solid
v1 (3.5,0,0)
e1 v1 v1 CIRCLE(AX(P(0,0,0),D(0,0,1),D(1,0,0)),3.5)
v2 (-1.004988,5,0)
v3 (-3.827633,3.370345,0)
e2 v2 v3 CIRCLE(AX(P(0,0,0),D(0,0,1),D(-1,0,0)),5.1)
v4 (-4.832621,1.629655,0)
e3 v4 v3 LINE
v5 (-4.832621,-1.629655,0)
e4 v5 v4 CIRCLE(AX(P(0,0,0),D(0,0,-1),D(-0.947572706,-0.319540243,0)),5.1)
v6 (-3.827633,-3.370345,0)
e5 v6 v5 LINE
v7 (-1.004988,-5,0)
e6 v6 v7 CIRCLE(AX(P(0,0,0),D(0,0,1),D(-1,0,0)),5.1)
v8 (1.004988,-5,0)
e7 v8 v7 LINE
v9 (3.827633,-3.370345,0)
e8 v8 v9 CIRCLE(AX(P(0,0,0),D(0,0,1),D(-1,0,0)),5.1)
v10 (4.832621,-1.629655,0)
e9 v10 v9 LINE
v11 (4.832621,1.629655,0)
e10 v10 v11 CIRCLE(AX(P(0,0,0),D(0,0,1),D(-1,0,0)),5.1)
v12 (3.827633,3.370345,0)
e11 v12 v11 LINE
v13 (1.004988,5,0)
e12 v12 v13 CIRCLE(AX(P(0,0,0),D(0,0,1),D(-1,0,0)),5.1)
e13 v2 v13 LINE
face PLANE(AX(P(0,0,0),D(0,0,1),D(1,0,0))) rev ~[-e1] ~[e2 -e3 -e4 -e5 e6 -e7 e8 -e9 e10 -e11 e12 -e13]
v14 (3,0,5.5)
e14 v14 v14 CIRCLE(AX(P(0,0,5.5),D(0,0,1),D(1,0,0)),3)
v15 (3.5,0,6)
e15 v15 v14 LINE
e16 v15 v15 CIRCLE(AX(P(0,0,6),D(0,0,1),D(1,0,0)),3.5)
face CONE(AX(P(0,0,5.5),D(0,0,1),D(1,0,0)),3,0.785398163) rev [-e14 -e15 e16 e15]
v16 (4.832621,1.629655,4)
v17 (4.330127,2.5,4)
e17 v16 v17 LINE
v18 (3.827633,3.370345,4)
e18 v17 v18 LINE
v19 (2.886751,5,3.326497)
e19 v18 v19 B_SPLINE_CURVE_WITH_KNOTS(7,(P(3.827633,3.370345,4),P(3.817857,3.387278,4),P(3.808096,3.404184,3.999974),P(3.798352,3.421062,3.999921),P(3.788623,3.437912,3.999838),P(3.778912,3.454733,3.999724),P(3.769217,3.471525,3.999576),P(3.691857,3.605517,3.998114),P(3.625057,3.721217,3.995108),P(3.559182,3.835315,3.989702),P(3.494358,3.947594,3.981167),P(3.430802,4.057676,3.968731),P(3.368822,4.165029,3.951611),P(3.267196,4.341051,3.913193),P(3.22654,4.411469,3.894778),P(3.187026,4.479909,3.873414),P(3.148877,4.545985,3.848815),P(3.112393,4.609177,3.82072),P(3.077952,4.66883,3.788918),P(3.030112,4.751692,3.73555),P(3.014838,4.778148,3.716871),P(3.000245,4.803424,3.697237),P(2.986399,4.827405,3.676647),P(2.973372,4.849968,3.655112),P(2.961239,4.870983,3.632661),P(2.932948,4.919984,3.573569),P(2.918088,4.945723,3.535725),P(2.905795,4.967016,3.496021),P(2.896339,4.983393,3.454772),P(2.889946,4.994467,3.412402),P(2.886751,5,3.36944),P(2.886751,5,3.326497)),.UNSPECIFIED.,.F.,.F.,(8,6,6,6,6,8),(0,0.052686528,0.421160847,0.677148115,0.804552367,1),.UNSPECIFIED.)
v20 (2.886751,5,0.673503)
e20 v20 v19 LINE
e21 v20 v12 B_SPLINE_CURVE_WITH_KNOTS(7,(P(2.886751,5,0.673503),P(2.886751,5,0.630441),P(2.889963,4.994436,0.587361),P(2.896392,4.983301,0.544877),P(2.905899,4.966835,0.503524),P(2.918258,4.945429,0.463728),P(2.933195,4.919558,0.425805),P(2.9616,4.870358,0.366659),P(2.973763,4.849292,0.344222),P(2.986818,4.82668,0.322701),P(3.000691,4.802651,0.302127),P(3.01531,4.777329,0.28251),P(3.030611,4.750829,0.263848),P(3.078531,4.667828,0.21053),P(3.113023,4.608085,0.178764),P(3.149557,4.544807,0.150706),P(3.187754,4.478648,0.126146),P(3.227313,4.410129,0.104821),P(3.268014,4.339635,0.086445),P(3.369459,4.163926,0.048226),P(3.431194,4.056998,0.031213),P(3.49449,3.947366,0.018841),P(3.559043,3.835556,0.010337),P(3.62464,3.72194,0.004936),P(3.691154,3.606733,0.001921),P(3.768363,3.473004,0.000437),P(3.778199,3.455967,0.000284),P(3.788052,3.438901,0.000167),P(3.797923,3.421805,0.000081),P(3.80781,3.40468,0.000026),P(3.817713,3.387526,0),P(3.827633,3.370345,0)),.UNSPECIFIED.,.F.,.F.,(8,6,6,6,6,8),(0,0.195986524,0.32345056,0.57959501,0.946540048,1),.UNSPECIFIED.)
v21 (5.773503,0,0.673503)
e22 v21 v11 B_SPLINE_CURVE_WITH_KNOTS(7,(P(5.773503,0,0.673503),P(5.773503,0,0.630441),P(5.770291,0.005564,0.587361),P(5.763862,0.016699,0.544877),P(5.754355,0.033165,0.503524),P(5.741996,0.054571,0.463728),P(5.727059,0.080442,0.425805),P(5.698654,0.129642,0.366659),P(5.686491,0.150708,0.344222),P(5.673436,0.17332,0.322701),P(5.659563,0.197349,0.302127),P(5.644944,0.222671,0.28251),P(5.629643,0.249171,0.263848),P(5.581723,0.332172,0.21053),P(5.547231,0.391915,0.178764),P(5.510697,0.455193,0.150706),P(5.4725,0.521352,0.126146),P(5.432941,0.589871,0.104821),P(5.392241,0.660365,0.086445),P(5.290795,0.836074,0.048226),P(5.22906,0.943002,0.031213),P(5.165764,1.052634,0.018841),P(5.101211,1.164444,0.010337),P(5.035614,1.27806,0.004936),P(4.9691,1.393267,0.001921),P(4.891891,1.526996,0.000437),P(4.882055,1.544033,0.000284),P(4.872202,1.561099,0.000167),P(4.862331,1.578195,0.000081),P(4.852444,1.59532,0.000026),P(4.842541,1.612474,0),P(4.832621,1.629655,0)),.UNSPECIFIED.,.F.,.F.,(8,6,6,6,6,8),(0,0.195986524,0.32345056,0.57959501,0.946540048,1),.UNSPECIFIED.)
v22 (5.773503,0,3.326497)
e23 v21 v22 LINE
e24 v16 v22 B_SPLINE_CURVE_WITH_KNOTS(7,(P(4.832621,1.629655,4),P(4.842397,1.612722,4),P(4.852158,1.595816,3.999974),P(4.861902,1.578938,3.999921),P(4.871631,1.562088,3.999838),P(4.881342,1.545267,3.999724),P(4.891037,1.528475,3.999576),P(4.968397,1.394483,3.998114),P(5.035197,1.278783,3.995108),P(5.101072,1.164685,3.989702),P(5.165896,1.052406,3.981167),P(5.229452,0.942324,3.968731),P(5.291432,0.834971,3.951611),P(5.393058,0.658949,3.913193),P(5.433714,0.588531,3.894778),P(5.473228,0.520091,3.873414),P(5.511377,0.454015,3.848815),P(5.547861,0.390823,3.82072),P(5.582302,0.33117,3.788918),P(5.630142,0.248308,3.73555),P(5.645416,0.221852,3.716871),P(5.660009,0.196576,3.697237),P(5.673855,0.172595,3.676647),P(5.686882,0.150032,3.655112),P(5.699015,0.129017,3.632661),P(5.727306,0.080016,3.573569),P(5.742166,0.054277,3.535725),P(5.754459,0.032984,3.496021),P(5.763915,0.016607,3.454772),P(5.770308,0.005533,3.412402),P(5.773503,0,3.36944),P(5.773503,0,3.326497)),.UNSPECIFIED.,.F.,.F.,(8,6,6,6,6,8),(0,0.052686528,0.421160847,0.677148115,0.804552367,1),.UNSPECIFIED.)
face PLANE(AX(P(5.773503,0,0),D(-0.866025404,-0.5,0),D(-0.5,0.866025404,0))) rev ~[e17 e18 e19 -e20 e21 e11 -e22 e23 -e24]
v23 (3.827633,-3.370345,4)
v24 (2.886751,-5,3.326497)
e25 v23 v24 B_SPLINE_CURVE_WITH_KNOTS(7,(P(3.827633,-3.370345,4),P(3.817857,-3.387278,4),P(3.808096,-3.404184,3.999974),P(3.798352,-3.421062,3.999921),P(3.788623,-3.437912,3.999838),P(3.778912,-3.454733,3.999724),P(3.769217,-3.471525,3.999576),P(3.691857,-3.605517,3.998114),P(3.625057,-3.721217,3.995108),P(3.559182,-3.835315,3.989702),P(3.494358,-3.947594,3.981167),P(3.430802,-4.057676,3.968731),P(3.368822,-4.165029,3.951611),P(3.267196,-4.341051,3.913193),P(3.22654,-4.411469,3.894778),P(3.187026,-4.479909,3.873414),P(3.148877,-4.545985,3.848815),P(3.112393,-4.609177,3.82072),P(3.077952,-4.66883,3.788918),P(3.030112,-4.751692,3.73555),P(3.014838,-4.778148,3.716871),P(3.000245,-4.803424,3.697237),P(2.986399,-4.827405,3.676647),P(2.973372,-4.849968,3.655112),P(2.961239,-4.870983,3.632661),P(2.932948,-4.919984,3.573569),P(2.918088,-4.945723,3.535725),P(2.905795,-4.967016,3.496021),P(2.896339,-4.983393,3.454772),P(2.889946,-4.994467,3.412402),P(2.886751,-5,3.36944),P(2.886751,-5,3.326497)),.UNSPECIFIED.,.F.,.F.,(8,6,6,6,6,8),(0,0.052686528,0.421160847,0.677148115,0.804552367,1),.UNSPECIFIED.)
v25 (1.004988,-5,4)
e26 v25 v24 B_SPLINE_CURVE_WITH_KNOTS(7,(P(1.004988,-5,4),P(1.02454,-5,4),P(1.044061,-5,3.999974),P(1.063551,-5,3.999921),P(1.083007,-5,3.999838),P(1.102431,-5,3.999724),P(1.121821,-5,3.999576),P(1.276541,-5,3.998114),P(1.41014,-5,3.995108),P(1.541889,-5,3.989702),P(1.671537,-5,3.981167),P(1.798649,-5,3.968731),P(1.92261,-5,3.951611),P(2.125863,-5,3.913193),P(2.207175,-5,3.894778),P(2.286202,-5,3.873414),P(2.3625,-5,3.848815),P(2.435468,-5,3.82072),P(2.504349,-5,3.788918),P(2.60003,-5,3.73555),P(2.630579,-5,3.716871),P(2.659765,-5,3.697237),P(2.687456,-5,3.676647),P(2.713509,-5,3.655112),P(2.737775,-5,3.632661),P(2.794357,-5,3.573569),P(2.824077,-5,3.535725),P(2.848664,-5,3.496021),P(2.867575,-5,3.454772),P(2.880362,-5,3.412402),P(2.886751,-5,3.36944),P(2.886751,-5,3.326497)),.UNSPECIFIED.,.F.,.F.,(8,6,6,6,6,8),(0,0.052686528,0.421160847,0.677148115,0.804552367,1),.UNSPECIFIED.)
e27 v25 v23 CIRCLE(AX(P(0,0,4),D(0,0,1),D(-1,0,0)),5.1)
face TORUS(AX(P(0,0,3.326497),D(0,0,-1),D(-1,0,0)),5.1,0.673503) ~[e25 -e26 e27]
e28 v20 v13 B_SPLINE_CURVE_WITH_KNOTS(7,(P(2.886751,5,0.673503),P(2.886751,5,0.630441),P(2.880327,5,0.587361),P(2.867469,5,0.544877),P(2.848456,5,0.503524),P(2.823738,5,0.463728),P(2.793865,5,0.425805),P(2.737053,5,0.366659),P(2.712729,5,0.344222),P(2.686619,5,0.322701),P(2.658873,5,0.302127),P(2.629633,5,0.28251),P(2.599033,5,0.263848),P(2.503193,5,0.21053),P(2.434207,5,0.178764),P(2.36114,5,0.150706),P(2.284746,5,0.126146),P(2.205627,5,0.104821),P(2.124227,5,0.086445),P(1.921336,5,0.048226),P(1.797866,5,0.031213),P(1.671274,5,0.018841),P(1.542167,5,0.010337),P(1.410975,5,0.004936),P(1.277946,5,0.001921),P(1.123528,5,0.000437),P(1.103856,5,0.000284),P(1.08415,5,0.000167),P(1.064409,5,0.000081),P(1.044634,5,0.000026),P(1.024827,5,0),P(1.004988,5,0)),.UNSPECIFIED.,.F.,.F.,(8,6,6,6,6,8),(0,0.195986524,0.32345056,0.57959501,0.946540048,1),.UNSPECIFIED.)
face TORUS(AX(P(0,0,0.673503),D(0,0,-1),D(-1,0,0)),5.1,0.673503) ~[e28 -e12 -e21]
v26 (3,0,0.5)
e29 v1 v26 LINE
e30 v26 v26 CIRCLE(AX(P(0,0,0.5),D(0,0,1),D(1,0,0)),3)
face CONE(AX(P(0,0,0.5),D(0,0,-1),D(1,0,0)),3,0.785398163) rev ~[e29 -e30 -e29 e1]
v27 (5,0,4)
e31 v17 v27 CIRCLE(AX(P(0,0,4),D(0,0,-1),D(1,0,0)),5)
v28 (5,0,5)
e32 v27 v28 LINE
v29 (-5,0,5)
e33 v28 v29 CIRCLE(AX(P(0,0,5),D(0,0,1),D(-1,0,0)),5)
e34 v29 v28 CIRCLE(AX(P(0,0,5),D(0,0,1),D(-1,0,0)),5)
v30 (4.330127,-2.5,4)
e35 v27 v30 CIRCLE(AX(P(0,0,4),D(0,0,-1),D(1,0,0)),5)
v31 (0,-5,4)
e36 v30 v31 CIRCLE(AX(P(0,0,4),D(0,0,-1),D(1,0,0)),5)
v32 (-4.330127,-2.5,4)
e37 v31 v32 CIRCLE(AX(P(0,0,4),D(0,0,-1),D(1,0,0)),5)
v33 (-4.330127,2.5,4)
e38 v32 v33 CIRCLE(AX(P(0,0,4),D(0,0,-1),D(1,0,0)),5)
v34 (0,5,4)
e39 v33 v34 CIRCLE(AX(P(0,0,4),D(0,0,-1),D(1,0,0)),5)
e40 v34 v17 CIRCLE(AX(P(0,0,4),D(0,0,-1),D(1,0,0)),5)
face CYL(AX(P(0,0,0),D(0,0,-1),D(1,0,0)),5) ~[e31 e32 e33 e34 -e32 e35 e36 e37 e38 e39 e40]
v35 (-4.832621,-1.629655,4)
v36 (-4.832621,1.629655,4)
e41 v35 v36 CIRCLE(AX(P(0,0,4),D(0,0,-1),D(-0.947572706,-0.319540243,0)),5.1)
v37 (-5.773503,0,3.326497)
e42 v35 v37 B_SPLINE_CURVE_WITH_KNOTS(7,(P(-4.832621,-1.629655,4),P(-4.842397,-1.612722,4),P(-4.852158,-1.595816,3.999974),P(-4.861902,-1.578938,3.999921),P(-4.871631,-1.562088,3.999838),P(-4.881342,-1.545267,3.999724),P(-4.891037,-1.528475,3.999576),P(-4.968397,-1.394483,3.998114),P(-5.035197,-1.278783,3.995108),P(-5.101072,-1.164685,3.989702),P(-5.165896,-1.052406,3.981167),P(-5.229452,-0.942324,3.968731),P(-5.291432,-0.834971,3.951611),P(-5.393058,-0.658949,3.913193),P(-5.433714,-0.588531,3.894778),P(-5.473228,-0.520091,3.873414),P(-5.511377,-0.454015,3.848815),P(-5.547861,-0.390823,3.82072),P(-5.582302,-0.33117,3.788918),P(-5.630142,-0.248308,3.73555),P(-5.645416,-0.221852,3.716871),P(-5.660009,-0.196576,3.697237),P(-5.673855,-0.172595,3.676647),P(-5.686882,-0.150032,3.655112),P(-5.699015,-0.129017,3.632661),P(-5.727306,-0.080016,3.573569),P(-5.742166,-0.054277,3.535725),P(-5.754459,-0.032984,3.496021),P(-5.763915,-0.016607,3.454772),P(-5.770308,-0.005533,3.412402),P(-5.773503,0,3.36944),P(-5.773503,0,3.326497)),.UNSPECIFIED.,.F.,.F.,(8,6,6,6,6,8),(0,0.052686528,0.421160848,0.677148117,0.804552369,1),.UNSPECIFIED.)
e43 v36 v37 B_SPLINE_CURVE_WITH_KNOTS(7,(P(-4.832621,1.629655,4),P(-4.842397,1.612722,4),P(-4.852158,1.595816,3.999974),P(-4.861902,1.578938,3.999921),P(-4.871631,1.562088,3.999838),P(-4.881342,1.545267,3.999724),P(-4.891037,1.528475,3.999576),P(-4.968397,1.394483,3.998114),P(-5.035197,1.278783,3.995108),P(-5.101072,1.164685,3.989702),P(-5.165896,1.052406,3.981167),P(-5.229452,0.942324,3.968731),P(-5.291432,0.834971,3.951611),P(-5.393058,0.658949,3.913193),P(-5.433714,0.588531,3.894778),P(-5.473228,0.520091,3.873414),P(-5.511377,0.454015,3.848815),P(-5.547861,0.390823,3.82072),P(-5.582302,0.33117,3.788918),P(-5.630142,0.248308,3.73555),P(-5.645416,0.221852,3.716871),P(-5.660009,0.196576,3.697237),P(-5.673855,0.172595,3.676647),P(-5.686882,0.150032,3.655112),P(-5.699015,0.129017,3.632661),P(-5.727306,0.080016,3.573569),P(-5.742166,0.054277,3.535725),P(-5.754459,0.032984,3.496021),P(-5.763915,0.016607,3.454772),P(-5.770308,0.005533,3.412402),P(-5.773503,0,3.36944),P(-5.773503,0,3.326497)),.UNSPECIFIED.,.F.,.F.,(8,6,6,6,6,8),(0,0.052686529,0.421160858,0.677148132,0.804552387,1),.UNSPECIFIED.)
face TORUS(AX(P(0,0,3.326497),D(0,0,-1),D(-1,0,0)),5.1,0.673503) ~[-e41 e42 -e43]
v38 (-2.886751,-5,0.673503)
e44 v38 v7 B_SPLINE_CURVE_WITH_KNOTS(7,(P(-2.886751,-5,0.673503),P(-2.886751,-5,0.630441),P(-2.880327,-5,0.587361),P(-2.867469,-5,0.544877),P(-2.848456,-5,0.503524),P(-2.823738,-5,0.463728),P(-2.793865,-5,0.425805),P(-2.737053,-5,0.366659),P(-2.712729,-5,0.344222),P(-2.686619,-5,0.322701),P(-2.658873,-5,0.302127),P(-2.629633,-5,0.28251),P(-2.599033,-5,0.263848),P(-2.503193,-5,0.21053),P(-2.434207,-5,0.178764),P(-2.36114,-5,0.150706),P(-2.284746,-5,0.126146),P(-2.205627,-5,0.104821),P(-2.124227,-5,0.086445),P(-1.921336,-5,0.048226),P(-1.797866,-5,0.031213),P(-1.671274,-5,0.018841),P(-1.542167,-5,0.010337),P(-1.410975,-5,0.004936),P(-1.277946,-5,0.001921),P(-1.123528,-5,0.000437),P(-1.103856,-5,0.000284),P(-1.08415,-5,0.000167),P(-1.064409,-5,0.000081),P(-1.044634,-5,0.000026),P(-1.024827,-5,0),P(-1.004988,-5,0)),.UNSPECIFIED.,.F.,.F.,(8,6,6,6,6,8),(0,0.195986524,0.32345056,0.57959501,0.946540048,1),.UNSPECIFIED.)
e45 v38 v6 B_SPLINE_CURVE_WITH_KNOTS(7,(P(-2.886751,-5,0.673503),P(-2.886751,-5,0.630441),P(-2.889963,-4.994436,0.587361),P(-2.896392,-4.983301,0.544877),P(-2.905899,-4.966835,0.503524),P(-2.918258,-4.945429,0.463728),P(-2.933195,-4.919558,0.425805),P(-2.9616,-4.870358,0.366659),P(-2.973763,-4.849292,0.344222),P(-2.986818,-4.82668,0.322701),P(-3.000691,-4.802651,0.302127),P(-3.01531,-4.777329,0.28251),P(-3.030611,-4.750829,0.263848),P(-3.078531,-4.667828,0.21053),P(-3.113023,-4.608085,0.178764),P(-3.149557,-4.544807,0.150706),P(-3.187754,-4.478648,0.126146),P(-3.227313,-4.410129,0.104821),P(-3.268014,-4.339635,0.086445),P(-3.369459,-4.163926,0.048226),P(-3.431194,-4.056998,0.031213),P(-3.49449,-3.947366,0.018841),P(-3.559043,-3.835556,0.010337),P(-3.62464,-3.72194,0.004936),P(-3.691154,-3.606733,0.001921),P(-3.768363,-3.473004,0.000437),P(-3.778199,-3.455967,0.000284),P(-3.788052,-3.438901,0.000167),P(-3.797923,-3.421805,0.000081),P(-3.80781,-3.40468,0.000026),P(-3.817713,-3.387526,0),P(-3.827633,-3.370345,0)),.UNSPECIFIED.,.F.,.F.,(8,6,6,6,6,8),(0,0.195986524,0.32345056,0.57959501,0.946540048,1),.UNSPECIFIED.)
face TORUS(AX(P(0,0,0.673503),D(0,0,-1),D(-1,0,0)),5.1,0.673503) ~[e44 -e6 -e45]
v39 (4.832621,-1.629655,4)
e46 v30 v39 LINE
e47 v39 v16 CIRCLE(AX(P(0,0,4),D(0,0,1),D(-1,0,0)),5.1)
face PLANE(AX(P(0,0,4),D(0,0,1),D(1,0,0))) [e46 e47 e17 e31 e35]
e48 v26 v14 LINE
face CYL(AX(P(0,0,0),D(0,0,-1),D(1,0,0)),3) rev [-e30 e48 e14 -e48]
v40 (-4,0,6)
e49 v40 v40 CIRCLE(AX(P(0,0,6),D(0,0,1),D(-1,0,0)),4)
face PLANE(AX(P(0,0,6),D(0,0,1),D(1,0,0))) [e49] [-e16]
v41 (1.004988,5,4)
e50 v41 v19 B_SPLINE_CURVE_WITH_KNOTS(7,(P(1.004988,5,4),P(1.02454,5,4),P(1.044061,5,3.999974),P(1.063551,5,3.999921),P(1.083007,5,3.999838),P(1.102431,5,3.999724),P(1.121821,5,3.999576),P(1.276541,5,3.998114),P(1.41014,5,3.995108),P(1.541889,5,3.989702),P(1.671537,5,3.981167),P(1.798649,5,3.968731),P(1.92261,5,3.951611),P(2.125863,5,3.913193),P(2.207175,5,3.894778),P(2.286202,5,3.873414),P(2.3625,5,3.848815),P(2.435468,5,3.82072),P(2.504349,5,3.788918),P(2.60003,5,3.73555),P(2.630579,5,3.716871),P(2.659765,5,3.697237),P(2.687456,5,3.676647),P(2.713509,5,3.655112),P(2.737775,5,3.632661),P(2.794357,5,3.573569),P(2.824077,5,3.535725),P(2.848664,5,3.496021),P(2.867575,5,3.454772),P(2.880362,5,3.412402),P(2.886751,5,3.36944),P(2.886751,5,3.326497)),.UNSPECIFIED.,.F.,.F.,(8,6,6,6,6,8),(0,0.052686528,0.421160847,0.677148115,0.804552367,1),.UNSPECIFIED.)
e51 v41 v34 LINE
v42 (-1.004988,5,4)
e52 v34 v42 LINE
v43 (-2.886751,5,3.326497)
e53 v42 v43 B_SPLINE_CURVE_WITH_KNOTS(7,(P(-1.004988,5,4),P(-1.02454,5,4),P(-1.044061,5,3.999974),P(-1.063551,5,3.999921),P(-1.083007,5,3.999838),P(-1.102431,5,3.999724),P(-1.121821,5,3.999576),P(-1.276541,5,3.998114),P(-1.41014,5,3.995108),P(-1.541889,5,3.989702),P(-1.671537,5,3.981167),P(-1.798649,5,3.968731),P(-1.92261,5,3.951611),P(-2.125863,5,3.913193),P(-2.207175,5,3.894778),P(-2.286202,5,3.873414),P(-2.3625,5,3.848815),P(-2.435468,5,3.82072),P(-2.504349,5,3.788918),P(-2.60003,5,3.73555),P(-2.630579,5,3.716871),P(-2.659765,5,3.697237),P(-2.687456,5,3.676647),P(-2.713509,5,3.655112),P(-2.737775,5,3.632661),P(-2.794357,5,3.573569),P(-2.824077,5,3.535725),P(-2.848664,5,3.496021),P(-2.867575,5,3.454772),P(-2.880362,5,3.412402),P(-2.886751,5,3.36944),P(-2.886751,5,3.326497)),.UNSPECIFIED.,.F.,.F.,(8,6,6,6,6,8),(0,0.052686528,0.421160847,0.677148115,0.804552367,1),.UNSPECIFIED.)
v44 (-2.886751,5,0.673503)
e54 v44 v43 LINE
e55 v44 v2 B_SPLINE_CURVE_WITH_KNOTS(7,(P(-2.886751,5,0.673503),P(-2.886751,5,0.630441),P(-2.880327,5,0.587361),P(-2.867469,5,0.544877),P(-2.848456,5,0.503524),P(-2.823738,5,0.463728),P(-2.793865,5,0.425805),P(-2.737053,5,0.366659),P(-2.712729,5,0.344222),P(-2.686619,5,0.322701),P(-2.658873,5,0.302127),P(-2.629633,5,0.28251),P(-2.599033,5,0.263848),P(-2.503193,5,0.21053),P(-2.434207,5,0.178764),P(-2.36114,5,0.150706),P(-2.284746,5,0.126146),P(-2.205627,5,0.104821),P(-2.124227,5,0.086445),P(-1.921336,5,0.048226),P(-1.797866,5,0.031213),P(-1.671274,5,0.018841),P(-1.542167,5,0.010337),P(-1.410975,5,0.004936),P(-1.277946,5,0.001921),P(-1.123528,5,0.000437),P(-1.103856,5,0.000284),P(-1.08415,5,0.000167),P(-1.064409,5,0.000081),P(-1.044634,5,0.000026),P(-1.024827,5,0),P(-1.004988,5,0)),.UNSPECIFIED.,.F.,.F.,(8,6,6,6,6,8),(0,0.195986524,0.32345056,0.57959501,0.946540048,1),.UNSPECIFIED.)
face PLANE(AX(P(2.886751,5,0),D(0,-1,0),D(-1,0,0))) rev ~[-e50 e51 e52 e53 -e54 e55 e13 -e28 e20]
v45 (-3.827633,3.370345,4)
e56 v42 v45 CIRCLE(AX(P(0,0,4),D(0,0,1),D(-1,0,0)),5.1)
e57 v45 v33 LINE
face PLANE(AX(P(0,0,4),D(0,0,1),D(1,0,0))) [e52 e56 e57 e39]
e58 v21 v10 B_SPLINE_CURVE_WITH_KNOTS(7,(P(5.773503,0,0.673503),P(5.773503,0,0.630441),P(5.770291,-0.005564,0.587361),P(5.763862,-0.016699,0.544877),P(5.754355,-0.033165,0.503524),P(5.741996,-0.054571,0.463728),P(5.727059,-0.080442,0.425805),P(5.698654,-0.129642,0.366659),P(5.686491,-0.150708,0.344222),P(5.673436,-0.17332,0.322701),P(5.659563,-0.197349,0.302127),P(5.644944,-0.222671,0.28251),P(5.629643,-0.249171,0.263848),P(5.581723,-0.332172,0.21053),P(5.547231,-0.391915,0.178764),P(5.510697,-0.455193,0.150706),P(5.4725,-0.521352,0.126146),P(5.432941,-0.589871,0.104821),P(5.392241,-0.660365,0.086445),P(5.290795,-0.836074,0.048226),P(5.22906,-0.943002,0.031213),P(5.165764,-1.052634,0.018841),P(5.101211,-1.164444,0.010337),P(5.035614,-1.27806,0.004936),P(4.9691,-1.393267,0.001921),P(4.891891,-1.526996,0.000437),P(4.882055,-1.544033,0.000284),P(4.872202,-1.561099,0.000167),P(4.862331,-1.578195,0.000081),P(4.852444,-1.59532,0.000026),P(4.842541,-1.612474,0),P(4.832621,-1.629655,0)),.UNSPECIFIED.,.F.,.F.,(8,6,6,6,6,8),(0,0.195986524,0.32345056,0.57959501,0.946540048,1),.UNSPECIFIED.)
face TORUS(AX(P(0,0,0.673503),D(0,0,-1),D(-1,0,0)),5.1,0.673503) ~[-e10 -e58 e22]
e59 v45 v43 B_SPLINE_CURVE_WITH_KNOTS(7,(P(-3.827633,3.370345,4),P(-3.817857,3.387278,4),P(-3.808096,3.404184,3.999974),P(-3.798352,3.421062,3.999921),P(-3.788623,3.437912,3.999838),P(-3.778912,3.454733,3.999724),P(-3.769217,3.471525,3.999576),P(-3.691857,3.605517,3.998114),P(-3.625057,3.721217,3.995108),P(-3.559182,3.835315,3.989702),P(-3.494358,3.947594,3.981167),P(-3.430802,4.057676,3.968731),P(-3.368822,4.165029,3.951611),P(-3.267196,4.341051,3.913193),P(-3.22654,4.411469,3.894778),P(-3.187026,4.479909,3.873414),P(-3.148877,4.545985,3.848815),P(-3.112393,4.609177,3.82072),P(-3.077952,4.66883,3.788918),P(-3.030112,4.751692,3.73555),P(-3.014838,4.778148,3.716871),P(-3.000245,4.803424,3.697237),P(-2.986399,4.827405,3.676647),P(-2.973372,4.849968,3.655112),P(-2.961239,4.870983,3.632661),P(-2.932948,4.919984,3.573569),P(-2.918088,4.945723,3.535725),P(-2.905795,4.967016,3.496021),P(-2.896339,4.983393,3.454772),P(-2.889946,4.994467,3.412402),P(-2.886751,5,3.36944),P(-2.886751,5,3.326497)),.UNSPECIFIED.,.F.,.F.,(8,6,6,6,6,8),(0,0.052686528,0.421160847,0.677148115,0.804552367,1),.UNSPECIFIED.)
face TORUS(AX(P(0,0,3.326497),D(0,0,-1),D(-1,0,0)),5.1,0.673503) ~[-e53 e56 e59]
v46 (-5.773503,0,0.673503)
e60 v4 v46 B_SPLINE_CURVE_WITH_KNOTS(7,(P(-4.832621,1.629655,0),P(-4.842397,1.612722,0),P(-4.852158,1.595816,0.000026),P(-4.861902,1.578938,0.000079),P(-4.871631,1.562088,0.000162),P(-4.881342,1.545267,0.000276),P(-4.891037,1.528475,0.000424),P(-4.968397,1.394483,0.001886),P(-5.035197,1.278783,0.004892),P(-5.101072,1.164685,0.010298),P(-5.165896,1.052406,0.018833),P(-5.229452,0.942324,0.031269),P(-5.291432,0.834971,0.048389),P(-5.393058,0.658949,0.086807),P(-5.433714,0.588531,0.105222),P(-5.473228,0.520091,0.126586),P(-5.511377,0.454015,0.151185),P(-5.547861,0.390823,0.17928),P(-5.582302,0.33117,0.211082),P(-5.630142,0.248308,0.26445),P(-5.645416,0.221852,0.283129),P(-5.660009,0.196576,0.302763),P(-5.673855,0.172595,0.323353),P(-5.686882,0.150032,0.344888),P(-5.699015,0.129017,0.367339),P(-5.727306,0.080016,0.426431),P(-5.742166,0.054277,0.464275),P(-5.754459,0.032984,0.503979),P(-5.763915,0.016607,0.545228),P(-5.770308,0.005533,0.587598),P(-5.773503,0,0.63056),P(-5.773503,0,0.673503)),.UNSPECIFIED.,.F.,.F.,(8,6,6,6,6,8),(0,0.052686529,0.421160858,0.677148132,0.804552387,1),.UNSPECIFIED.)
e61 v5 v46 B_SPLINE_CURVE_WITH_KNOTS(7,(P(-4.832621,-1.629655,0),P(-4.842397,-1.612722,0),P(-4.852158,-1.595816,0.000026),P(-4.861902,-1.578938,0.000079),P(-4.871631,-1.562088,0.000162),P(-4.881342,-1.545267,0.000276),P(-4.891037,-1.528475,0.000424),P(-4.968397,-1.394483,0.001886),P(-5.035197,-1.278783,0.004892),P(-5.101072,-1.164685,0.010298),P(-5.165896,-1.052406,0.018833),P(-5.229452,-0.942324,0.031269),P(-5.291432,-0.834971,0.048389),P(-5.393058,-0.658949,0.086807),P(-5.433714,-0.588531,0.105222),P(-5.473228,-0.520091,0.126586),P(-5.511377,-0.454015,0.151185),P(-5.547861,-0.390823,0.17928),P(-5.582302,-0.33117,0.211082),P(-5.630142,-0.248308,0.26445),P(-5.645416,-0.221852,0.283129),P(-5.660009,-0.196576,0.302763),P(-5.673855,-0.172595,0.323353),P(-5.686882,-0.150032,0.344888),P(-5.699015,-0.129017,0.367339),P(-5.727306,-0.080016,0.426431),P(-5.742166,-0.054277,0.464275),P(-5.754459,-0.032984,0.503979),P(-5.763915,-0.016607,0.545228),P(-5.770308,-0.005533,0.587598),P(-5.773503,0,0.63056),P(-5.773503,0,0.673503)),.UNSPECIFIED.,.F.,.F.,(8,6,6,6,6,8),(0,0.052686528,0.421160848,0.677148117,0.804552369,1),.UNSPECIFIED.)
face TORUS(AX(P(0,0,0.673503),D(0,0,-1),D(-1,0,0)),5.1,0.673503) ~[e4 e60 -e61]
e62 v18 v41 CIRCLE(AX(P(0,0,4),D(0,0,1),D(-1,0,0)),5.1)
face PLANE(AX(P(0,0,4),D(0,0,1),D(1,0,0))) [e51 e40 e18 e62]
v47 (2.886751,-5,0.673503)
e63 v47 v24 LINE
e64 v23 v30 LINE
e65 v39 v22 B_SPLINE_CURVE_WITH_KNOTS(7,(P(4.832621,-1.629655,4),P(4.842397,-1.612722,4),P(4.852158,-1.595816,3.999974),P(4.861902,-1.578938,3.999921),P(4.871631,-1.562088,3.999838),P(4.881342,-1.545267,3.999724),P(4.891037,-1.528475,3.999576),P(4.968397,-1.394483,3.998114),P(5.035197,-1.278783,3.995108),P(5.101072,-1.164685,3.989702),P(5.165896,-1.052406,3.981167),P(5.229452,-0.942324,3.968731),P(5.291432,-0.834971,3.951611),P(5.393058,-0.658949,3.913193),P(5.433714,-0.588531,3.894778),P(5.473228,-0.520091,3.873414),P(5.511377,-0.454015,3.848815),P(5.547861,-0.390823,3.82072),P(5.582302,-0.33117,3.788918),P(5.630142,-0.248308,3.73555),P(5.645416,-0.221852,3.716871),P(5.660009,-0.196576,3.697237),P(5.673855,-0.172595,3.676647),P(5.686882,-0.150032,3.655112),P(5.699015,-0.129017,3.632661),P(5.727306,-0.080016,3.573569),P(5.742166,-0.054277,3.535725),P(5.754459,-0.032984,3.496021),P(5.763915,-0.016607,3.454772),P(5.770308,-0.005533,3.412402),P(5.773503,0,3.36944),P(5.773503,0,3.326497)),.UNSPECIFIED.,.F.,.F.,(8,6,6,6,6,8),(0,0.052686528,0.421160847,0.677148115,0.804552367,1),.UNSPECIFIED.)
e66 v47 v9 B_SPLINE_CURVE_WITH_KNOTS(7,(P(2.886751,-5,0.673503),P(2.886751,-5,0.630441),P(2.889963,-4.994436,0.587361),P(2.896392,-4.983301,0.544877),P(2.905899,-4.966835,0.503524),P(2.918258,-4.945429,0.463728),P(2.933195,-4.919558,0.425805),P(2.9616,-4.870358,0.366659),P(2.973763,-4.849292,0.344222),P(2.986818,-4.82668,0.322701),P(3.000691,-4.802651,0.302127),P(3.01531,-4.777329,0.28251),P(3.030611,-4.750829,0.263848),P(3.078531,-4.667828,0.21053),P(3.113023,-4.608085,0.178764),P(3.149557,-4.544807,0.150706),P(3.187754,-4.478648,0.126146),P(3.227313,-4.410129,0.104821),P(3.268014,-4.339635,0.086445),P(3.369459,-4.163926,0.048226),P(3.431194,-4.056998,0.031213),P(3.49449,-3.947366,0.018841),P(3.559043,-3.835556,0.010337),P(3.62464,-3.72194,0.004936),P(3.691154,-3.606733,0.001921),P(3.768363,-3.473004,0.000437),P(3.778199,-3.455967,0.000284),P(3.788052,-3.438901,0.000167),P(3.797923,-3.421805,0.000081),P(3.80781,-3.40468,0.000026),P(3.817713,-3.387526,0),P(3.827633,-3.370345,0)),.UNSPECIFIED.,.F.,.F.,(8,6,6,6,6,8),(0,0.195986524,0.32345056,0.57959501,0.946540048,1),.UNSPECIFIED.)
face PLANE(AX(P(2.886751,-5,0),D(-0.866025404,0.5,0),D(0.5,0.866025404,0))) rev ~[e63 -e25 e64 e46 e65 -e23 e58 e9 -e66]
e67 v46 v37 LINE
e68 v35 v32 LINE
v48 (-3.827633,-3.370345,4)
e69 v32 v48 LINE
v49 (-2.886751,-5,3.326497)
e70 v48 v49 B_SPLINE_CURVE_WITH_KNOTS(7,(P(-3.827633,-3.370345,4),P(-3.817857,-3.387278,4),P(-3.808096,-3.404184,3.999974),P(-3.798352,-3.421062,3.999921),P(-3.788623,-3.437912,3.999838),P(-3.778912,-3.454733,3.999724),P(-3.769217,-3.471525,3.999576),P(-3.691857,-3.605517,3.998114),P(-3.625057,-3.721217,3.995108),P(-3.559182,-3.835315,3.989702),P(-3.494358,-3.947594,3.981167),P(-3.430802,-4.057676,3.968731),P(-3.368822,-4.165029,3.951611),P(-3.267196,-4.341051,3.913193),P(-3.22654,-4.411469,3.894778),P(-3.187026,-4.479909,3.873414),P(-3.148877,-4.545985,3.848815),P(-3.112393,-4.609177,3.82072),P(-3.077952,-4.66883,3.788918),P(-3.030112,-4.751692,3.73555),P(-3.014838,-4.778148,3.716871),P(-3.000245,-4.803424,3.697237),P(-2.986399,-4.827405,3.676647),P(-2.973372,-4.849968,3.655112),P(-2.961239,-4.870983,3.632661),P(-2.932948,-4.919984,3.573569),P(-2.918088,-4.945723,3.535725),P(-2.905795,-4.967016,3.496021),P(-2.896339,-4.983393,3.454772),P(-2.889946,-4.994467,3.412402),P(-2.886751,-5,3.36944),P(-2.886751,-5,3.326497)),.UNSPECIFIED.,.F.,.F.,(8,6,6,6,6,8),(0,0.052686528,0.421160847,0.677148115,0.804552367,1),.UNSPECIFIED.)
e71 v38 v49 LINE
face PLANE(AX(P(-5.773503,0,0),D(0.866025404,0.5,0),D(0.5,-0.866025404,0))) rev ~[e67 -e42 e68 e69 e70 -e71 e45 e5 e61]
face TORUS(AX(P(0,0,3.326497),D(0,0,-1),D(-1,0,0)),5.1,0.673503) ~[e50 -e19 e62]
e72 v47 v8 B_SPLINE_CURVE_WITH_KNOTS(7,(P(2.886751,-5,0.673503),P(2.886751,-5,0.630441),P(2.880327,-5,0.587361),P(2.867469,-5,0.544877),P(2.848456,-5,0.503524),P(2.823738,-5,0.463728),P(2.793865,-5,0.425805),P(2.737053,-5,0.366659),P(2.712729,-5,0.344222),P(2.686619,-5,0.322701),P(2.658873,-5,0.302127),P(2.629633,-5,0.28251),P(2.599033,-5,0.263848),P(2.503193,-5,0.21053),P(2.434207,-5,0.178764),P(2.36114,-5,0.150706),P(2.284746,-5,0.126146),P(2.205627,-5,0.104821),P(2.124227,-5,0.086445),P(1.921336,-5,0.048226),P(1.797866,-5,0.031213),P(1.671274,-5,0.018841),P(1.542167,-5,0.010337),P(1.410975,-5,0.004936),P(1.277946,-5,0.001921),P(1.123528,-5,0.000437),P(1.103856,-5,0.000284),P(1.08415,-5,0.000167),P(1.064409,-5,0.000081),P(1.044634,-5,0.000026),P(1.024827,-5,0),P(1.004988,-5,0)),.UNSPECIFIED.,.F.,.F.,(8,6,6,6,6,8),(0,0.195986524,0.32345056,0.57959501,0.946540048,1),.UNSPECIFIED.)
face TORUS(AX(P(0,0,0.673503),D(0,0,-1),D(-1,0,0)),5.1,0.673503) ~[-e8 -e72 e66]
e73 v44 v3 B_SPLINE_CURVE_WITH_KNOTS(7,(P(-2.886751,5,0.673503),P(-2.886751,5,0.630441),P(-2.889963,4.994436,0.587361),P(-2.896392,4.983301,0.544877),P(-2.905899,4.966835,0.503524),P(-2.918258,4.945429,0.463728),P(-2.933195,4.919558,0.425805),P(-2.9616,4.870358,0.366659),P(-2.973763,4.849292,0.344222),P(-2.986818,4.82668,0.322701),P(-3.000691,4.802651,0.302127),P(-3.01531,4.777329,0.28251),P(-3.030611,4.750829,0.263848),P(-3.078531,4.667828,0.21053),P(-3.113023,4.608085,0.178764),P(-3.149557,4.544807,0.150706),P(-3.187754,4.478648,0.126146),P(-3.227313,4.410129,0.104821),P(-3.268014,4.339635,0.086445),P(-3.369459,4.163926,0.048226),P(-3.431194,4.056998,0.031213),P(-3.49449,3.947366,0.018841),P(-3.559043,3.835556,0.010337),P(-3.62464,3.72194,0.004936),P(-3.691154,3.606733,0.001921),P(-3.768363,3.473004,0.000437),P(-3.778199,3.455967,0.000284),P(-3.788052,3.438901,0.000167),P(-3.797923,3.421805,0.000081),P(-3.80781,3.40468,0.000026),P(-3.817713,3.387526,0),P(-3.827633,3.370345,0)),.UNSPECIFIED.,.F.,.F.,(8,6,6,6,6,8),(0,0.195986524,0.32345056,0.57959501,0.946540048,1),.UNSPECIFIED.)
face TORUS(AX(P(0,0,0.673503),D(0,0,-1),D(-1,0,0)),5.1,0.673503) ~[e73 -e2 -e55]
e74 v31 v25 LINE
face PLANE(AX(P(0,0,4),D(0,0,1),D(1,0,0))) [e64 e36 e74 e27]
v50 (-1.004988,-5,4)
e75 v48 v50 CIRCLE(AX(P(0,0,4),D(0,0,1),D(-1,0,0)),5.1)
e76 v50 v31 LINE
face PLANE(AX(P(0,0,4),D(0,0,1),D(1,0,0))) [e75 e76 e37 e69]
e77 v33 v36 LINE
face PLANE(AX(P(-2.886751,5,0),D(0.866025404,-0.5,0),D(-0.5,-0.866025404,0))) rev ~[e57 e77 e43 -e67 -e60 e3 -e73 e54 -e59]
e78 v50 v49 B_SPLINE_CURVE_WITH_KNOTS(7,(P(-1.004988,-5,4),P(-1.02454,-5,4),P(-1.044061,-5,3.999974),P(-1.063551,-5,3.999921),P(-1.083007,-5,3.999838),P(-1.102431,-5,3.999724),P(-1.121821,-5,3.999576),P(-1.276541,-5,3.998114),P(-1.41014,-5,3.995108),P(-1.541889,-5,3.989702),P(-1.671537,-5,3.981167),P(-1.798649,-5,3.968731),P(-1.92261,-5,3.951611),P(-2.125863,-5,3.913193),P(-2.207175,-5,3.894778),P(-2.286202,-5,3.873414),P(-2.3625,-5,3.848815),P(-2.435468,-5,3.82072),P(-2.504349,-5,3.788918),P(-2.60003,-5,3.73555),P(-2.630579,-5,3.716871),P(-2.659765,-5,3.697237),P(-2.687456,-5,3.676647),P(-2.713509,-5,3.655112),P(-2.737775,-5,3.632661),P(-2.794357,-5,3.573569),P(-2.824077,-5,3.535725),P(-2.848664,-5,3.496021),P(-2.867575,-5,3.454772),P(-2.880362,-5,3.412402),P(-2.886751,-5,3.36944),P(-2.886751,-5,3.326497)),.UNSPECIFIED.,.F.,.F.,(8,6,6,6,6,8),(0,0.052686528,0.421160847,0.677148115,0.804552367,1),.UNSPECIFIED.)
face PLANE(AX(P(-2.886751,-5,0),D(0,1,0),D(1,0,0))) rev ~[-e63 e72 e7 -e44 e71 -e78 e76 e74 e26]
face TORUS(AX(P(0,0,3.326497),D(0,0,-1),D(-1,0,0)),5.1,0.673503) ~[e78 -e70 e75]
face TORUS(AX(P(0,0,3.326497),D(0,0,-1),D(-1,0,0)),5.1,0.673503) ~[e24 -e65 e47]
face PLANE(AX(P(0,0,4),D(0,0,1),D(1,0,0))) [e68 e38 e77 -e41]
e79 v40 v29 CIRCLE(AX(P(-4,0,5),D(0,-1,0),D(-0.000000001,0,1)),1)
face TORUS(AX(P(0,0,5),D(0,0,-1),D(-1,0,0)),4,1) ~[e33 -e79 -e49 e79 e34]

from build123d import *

# Parameters (mm, degrees)
SZKIC1_R                    = 3
DODANIE_WYCI_GNI_CIE1_DEPTH = 4
SZKIC2_R                    = 5
SZKIC2_R_2                  = 3
DODANIE_WYCI_GNI_CIE2_DEPTH = 6
SFAZOWANIE1_SIZE            = 0.5


with BuildPart() as part:
    # Szkic1 → Dodanie-wyciągnięcie1 (new body)
    with BuildSketch(Plane.XY):
        Polygon((-5.773502692, 0), (-2.886751346, -5), (2.886751346, -5), (5.773502692, 0), (2.886751346, 5), (-2.886751346, 5), align=None)
        Circle(SZKIC1_R, mode=Mode.SUBTRACT)
    extrude(amount=DODANIE_WYCI_GNI_CIE1_DEPTH)

    # Szkic2 → Dodanie-wyciągnięcie2 (add)
    with BuildSketch(Plane.XY):
        Circle(SZKIC2_R)
        Circle(SZKIC2_R_2, mode=Mode.SUBTRACT)
    extrude(amount=DODANIE_WYCI_GNI_CIE2_DEPTH)

    # Sfazowanie1
    sfazowanie1_edges = [part.edges().sort_by_distance(p)[0] for p in [
        (-3, 0, 0),
        (-3, 0, 6),
    ]]
    chamfer(sfazowanie1_edges, length=SFAZOWANIE1_SIZE)

    # Szkic3 → Wycięcie-obrót1 (revolve, cut)
    with BuildSketch(Plane(origin=(0, 0, 0), x_dir=(1, 0, 0), z_dir=(0, 1, 0))):
        with BuildLine():
            Line((-5.773502692, 0), (-5.773502692, -0.673502692))
            ThreePointArc((-5.773502692, -0.673502692), (-5.576238321, -0.197264371), (-5.1, 0))
            Line((-5.1, 0), (-5.773502692, 0))
        make_face()
        with BuildLine():
            ThreePointArc((-5.1, -4), (-5.576238321, -3.802735629), (-5.773502692, -3.326497308))
            Line((-5.773502692, -3.326497308), (-5.773502692, -4))
            Line((-5.773502692, -4), (-5.1, -4))
        make_face()
        with BuildLine():
            Line((-5, -6), (-4, -6))
            ThreePointArc((-4, -6), (-4.707106781, -5.707106781), (-5, -5))
            Line((-5, -5), (-5, -6))
        make_face()
    revolve(axis=Axis((0, 0, -1.701574894), (0, 0, 1)), mode=Mode.SUBTRACT)


solid = part.part
